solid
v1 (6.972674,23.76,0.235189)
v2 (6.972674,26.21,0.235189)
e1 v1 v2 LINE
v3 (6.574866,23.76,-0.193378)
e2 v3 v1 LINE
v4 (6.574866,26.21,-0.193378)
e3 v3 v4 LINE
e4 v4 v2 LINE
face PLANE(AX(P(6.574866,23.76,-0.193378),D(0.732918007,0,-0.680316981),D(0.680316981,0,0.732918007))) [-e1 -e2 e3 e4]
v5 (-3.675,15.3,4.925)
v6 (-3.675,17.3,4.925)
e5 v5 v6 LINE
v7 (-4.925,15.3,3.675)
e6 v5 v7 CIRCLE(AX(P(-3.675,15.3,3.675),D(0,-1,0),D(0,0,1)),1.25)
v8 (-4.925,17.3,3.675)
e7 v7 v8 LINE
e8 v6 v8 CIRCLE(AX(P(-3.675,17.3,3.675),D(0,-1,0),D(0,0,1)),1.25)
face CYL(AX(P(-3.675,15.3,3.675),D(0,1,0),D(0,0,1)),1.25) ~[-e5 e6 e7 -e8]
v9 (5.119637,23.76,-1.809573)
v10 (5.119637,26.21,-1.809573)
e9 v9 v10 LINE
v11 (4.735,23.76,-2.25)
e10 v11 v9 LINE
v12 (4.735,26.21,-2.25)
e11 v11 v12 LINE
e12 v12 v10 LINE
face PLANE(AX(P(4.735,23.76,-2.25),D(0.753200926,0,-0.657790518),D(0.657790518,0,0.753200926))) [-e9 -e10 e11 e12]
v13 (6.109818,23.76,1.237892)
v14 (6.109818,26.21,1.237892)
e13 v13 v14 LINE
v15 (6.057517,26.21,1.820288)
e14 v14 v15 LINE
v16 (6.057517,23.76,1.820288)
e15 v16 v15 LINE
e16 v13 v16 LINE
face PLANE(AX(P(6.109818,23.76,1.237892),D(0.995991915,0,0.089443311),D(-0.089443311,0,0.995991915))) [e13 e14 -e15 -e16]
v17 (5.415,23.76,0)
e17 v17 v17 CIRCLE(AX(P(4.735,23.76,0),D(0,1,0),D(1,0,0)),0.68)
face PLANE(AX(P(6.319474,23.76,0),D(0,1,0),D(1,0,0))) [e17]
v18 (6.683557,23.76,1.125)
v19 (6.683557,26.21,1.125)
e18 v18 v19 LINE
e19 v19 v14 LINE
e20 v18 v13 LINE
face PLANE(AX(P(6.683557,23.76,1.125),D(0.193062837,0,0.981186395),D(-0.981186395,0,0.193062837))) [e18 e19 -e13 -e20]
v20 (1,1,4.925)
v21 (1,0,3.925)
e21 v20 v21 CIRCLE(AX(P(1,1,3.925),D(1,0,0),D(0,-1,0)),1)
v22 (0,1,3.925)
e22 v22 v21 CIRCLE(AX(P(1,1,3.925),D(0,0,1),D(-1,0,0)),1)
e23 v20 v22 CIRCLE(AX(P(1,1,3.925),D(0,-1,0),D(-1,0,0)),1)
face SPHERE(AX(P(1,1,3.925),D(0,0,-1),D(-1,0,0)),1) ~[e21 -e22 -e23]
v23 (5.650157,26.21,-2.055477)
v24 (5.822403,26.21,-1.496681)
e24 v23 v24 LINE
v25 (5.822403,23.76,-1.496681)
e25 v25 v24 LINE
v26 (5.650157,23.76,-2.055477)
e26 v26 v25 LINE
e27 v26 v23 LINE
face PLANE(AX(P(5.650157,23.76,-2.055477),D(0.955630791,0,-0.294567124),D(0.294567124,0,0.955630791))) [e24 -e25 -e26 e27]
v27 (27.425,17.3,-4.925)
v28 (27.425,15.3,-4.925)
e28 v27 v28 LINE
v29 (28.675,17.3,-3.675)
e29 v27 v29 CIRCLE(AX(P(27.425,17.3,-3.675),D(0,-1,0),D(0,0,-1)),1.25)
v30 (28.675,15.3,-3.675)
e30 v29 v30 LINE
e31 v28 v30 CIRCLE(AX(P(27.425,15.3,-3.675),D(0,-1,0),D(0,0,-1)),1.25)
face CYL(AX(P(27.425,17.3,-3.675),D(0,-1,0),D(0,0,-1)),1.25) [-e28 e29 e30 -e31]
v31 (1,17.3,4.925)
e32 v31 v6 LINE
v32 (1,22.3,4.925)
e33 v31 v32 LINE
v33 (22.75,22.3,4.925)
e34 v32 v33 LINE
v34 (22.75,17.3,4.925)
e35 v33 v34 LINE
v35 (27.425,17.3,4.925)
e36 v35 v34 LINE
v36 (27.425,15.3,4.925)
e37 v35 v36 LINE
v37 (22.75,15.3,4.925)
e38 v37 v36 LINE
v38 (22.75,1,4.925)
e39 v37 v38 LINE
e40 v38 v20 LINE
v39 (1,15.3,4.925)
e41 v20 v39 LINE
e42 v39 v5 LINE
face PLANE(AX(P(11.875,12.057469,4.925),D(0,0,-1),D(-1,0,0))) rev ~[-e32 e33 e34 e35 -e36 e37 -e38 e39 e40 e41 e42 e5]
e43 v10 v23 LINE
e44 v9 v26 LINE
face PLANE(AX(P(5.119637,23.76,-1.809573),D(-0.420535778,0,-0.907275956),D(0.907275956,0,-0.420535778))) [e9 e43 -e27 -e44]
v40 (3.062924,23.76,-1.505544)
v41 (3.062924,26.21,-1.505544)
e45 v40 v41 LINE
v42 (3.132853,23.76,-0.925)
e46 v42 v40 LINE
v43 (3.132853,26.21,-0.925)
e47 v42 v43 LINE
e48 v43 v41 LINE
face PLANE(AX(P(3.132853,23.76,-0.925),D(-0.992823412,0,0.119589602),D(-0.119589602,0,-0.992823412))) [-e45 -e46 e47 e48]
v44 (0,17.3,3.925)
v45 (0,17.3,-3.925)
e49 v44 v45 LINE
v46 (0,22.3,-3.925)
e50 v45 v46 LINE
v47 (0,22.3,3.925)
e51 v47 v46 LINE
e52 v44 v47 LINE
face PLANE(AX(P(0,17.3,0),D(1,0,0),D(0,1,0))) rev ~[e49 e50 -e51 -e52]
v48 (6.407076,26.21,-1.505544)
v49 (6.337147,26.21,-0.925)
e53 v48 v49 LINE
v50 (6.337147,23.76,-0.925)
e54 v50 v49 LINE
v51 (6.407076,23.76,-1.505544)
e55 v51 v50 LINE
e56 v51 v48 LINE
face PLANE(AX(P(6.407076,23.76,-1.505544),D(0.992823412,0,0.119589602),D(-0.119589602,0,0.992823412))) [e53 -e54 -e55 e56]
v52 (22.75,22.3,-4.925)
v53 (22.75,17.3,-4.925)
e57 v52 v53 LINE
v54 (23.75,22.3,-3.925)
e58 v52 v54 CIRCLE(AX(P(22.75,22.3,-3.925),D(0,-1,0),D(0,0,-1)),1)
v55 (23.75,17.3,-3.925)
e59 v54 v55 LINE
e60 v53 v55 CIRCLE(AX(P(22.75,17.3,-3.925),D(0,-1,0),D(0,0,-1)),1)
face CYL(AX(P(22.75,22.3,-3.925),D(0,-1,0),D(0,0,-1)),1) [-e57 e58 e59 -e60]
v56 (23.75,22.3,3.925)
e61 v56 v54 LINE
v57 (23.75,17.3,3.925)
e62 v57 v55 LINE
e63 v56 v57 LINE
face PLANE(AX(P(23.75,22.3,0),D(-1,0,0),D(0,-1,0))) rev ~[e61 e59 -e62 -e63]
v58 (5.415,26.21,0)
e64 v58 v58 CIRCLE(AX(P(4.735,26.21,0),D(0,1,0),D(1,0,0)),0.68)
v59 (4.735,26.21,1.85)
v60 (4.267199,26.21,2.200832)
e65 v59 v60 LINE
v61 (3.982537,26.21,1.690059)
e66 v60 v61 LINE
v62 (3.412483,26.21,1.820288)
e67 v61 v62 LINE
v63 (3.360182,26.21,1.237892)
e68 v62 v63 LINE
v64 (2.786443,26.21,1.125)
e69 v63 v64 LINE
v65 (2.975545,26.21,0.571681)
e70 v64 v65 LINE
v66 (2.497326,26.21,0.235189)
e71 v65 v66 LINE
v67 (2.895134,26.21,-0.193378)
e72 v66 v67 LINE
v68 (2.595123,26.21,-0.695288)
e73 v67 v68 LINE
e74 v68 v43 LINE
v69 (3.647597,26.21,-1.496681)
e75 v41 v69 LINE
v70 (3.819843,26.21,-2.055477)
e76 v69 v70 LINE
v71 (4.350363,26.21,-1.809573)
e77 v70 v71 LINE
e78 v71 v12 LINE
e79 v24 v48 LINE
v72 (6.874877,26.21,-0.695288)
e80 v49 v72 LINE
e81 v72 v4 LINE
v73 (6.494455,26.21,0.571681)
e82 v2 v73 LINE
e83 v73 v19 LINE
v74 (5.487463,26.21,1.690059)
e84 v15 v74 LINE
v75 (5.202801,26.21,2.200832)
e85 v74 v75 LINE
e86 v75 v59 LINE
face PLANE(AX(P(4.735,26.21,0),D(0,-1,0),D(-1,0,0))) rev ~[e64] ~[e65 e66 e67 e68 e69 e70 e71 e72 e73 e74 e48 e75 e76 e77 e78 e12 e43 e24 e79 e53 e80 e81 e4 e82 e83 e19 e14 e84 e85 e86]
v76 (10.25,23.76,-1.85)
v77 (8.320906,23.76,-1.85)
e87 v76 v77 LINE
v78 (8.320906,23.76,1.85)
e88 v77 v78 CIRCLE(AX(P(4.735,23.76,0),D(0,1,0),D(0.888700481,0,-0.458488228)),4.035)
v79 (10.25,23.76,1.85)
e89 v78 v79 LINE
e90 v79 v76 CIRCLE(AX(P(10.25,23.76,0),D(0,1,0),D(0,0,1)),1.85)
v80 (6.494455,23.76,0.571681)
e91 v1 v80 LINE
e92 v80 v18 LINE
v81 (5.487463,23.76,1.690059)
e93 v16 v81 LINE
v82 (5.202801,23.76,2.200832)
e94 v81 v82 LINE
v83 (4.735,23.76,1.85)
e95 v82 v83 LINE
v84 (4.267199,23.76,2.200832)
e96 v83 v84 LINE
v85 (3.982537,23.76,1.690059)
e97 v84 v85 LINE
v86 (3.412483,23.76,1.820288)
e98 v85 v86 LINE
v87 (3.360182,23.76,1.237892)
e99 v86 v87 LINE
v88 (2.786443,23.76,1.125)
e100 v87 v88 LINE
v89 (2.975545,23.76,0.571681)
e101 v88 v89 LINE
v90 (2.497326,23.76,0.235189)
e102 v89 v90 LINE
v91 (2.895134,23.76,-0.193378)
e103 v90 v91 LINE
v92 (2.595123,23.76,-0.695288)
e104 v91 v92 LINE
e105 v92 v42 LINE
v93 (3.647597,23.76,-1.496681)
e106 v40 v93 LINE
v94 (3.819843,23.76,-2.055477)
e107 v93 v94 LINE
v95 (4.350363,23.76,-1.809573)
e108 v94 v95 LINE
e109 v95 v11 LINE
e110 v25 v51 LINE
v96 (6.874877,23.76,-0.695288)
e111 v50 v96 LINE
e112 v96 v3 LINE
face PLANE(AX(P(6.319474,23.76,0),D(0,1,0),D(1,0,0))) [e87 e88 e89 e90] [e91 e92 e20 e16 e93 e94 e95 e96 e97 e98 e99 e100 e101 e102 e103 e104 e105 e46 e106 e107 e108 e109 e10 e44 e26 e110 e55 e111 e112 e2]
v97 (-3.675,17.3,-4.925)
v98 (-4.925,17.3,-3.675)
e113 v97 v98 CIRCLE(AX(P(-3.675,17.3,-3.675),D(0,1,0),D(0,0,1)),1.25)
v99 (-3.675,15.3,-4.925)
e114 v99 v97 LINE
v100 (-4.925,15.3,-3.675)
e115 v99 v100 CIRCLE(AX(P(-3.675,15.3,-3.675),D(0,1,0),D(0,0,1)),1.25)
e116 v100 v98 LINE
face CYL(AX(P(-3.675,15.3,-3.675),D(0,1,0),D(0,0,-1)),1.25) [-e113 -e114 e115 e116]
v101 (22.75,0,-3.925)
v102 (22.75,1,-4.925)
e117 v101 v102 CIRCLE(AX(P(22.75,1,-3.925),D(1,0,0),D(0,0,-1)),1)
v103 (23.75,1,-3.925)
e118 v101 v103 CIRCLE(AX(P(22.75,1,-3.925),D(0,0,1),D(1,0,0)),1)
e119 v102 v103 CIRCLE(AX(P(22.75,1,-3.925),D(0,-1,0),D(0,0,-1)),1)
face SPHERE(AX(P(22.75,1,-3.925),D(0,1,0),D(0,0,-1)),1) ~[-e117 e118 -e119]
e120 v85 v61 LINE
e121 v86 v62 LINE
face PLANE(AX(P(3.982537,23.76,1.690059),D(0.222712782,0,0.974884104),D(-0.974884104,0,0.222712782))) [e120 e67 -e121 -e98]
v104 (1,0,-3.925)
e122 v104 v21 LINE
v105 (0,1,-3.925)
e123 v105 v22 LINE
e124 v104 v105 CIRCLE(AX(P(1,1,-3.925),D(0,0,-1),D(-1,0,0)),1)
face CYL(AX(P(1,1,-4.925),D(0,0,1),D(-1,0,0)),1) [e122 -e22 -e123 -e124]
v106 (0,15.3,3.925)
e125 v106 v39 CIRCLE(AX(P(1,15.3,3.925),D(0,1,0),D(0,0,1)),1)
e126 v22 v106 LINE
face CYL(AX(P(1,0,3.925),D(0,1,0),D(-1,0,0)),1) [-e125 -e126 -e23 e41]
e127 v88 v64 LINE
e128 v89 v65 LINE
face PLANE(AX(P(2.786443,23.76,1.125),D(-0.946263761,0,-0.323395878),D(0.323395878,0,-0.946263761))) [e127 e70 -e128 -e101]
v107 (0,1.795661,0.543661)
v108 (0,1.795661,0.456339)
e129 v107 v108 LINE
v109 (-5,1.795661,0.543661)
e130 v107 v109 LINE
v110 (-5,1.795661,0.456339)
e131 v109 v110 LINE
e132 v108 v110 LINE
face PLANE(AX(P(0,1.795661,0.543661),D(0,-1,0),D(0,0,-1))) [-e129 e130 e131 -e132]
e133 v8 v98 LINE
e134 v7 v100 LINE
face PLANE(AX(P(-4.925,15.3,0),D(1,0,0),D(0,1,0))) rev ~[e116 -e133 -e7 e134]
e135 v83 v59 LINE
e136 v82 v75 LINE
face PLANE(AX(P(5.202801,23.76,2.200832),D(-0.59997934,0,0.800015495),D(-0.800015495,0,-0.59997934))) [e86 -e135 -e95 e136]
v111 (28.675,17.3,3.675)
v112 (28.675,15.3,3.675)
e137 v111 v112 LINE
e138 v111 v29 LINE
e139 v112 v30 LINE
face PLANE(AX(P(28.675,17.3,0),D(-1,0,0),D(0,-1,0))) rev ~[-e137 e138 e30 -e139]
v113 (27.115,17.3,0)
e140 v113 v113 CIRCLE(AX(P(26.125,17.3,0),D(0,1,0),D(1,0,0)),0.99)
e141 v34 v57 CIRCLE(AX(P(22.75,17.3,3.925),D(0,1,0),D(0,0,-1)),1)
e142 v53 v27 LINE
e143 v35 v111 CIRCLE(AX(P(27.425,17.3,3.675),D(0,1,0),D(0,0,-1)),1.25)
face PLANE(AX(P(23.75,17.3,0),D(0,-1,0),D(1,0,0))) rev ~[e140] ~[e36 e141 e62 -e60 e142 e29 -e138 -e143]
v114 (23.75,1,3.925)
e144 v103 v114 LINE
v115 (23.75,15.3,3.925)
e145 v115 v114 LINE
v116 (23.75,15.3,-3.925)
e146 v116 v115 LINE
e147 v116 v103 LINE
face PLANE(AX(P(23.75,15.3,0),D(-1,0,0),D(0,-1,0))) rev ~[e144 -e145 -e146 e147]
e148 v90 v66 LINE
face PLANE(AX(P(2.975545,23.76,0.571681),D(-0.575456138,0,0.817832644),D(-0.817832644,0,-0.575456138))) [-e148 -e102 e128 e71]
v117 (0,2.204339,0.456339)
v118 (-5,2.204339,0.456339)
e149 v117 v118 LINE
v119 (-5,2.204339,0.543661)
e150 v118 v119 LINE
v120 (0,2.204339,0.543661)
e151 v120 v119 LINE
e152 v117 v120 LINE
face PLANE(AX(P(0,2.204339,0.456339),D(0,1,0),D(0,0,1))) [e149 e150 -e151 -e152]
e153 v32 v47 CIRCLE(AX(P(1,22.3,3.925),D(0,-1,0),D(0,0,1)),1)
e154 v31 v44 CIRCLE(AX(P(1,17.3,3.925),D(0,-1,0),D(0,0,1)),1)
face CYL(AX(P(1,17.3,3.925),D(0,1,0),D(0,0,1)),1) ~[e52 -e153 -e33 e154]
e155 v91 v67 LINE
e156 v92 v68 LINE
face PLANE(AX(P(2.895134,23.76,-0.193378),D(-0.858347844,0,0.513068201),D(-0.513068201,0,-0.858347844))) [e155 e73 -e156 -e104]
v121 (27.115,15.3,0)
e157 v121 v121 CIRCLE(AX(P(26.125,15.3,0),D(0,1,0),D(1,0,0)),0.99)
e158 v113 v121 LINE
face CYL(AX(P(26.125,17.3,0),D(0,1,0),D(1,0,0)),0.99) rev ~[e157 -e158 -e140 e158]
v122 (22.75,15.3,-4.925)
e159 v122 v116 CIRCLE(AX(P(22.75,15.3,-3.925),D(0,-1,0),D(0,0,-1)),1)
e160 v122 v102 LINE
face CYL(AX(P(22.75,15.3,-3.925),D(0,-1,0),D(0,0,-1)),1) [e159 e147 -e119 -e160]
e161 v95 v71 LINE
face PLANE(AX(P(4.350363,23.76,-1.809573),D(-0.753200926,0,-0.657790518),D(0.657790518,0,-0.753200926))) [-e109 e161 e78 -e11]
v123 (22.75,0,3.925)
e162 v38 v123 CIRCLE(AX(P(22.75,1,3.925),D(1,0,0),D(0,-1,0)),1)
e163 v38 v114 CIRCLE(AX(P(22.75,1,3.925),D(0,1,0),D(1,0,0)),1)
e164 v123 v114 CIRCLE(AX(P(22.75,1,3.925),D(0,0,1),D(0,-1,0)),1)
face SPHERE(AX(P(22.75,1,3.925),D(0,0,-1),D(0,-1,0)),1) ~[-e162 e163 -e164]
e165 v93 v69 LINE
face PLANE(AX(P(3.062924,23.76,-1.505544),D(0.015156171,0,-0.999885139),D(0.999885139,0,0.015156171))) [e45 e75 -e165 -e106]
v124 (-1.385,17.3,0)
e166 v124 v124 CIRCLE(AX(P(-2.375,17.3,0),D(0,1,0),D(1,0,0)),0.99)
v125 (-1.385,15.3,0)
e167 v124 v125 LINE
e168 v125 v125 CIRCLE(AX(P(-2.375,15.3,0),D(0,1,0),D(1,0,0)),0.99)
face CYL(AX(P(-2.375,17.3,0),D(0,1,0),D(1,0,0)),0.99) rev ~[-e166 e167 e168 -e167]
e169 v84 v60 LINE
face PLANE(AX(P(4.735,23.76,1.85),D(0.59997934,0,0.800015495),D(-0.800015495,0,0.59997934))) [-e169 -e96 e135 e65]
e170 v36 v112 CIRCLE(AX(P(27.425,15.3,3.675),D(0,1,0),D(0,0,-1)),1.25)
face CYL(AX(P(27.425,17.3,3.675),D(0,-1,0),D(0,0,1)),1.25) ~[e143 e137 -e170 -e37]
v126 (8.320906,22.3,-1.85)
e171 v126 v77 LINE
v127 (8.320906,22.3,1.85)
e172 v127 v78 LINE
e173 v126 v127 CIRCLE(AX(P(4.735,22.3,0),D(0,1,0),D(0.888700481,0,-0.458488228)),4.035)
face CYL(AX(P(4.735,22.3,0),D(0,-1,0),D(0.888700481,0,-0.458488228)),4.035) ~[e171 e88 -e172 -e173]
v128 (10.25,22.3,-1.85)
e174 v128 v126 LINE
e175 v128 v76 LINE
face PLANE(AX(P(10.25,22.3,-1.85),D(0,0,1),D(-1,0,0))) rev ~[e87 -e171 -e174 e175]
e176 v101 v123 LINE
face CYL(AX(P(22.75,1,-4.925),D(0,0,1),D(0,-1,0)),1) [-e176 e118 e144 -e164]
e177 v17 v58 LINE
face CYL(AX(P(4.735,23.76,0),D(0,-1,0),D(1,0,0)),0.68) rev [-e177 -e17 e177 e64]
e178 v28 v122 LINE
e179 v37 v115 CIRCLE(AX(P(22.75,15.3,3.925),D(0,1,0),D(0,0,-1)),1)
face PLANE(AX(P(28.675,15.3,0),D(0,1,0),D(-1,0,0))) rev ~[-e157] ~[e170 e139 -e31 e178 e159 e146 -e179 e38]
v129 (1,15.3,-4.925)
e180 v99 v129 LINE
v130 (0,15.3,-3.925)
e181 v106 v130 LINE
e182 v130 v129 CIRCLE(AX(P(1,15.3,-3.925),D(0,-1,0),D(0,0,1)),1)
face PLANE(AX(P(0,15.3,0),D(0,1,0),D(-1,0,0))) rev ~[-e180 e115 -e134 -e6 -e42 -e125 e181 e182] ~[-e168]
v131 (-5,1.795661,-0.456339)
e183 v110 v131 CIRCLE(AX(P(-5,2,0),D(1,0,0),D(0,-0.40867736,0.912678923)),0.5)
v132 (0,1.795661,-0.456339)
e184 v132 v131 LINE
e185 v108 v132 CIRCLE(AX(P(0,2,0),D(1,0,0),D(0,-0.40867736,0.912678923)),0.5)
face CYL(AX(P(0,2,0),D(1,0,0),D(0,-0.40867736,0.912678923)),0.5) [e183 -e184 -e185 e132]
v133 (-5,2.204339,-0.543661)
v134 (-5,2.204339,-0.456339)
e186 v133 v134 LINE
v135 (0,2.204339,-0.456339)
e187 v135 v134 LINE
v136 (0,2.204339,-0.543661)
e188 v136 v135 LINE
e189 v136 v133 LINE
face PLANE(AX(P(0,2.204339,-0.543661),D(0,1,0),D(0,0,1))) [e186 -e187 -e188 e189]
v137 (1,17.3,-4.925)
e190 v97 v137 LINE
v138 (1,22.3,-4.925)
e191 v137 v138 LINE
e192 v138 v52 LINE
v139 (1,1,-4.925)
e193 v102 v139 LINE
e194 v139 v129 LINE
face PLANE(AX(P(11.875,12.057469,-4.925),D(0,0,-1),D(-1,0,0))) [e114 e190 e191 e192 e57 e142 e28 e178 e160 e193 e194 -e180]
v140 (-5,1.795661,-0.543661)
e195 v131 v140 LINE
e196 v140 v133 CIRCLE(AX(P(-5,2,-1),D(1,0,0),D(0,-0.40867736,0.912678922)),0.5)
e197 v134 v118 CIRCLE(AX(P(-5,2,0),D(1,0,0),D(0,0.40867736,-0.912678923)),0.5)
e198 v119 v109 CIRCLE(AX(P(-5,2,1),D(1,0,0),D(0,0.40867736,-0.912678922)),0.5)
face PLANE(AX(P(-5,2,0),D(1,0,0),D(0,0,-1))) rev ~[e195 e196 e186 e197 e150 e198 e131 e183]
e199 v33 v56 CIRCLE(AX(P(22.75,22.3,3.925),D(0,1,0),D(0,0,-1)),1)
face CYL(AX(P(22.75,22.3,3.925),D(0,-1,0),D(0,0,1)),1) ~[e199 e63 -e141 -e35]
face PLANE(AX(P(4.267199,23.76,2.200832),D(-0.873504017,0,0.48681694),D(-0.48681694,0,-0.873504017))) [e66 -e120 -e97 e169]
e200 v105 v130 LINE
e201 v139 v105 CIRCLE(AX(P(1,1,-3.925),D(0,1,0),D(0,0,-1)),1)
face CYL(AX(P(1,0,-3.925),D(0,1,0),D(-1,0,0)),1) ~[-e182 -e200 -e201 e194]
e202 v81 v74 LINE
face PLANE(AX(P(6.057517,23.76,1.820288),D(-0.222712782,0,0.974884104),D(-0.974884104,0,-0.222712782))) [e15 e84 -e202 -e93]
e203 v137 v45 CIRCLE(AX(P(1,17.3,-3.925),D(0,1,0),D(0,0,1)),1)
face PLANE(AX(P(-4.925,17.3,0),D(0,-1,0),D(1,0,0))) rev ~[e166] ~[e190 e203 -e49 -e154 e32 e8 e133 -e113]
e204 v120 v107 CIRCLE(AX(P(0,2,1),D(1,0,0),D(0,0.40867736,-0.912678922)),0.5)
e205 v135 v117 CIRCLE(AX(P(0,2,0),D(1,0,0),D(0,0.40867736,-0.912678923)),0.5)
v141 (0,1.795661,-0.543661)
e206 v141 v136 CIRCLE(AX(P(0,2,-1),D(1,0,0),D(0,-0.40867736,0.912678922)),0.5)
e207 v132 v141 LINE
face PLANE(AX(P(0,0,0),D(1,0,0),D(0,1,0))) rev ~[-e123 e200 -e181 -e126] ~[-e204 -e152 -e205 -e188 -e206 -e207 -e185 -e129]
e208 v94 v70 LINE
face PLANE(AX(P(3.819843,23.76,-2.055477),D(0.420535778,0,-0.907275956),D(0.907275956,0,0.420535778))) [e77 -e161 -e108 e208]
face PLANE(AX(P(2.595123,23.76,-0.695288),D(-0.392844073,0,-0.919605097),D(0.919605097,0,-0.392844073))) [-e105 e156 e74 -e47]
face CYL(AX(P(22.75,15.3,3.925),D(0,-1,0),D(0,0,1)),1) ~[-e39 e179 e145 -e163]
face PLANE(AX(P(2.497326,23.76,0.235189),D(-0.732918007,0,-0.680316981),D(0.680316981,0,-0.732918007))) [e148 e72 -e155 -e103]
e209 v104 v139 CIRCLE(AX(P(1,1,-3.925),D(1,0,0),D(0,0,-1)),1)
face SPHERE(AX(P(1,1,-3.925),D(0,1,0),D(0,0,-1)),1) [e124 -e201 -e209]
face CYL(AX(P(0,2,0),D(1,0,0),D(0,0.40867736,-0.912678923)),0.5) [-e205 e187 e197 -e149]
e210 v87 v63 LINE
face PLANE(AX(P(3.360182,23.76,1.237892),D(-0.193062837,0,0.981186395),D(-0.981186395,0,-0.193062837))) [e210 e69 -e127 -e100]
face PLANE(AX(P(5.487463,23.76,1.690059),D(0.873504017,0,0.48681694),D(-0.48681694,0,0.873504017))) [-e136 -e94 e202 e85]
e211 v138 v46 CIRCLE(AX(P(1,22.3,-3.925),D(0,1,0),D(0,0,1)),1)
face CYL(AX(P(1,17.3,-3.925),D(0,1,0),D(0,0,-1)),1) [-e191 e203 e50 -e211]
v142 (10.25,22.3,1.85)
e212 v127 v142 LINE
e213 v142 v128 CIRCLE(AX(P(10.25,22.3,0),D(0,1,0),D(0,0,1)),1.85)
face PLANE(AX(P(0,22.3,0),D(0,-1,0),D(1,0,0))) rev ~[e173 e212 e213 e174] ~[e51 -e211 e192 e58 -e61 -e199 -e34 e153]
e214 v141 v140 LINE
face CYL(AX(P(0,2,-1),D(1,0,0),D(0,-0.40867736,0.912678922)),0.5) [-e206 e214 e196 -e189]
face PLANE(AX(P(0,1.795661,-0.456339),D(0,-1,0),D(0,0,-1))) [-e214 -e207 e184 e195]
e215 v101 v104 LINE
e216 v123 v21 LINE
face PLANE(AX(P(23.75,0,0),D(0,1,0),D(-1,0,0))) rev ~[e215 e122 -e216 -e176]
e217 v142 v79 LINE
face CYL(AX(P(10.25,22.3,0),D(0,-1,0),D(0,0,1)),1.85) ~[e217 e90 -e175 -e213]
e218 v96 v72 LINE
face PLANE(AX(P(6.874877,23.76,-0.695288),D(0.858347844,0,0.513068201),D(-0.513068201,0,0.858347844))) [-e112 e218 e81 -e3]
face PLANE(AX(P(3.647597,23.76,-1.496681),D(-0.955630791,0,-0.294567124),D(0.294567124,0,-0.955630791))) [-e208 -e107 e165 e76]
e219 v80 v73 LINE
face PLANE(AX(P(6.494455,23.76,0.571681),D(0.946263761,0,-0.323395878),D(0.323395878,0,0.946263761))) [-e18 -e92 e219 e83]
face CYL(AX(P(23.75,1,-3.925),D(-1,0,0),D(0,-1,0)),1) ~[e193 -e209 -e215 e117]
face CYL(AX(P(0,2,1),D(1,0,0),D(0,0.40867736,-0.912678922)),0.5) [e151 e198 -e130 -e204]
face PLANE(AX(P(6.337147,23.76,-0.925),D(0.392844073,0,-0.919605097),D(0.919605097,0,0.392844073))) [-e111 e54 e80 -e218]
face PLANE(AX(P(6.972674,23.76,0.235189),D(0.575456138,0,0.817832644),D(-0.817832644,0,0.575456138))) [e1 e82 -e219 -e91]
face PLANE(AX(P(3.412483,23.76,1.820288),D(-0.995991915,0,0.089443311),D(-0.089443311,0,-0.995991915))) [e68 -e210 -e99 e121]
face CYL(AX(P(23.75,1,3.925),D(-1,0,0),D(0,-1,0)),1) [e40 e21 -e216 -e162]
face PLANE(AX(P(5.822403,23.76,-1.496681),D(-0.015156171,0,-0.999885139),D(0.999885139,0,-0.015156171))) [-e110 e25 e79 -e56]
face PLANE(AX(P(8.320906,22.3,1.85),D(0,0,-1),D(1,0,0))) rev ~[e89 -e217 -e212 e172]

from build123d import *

# Parameters (mm, degrees)
BOSS_EXTRUDE1_DEPTH = 4.925
BOSS_EXTRUDE3_DEPTH = 1.46
SKETCH6_R           = 0.68
BOSS_EXTRUDE4_DEPTH = 2.45
SKETCH2_R           = 0.99
CUT_EXTRUDE6_DEPTH  = 10
FILLET1_R           = 1
FILLET2_R           = 1.25
BOSS_EXTRUDE5_DEPTH = 5


with BuildPart() as part:
    # Sketch1 → Boss-Extrude1 (new body, symmetric)
    with BuildSketch(Plane.XY):
        Polygon((0, 0), (0, 15.3), (-4.925, 15.3), (-4.925, 17.3), (0, 17.3), (0, 22.3), (23.75, 22.3), (23.75, 17.3), (28.675, 17.3), (28.675, 15.3), (23.75, 15.3), (23.75, 0), align=None)
    extrude(amount=BOSS_EXTRUDE1_DEPTH, both=True)

    # Sketch5 → Boss-Extrude3 (add)
    with BuildSketch(Plane(origin=(0, 22.3, 0), x_dir=(1, 0, 0), z_dir=(0, 1, 0))):
        with BuildLine():
            Line((10.25, 1.85), (8.32090644, 1.85))
            ThreePointArc((8.32090644, 1.85), (0.7, 0), (8.32090644, -1.85))
            Line((8.32090644, -1.85), (10.25, -1.85))
            ThreePointArc((10.25, -1.85), (12.1, 0), (10.25, 1.85))
        make_face()
    extrude(amount=BOSS_EXTRUDE3_DEPTH)

    # Sketch6 → Boss-Extrude4 (add)
    with BuildSketch(Plane(origin=(0, 23.76, 0), x_dir=(1, 0, 0), z_dir=(0, 1, 0))):
        Polygon((4.350363372, 1.809573061), (4.735, 2.25), (5.119636628, 1.809573061), (5.650157447, 2.05547728), (5.822402717, 1.49668144), (6.407075857, 1.505543864), (6.337146997, 0.925), (6.874877162, 0.695288237), (6.574865506, 0.193377657), (6.972674265, -0.235189042), (6.494454555, -0.57168144), (6.683557159, -1.125), (6.109817927, -1.237891622), (6.057516818, -1.820288237), (5.48746279, -1.690059097), (5.202801304, -2.200832102), (4.735, -1.85), (4.267198696, -2.200832102), (3.98253721, -1.690059097), (3.412483182, -1.820288237), (3.360182073, -1.237891622), (2.786442841, -1.125), (2.975545445, -0.57168144), (2.497325735, -0.235189042), (2.895134494, 0.193377657), (2.595122838, 0.695288237), (3.132853003, 0.925), (3.062924143, 1.505543864), (3.647597283, 1.49668144), (3.819842553, 2.05547728), align=None)
        with Locations((4.735, 0)):
            Circle(SKETCH6_R, mode=Mode.SUBTRACT)
    extrude(amount=BOSS_EXTRUDE4_DEPTH)

    # Sketch2 → Cut-Extrude6 (cut)
    with BuildSketch(Plane(origin=(0, 17.3, 0), x_dir=(1, 0, 0), z_dir=(0, 1, 0))):
        with Locations((26.125, 0)):
            Circle(SKETCH2_R)
        with Locations((-2.375, 0)):
            Circle(SKETCH2_R)
    extrude(amount=-CUT_EXTRUDE6_DEPTH, mode=Mode.SUBTRACT)

    # Fillet1
    fillet1_edges = [part.edges().sort_by_distance(p)[0] for p in [
        (0, 7.65, -4.925),
        (0, 19.8, -4.925),
        (23.75, 19.8, -4.925),
        (23.75, 7.65, -4.925),
        (11.875, 0, -4.925),
        (23.75, 19.8, 4.925),
        (0, 0, 0),
        (23.75, 0, 0),
        (0, 19.8, 4.925),
        (0, 7.65, 4.925),
        (11.875, 0, 4.925),
        (23.75, 7.65, 4.925),
    ]]
    fillet(fillet1_edges, radius=FILLET1_R)

    # Fillet2
    fillet2_edges = [part.edges().sort_by_distance(p)[0] for p in [
        (-4.925, 16.3, -4.925),
        (28.675, 16.3, 4.925),
        (28.675, 16.3, -4.925),
        (-4.925, 16.3, 4.925),
    ]]
    fillet(fillet2_edges, radius=FILLET2_R)

    # Sketch7 → Boss-Extrude5 (add)
    with BuildSketch(Plane.ZY):
        with BuildLine():
            Line((-0.543660539, 2.20433868), (-0.456339461, 2.20433868))
            ThreePointArc((-0.456339461, 2.20433868), (0, 2.5), (0.456339461, 2.20433868))
            Line((0.456339461, 2.20433868), (0.543660539, 2.20433868))
            ThreePointArc((0.543660539, 2.20433868), (1.5, 2), (0.543660539, 1.79566132))
            Line((0.543660539, 1.79566132), (0.456339461, 1.79566132))
            ThreePointArc((0.456339461, 1.79566132), (0, 1.5), (-0.456339461, 1.79566132))
            Line((-0.456339461, 1.79566132), (-0.543660539, 1.79566132))
            ThreePointArc((-0.543660539, 1.79566132), (-1.5, 2), (-0.543660539, 2.20433868))
        make_face()
    extrude(amount=BOSS_EXTRUDE5_DEPTH)


solid = part.part
